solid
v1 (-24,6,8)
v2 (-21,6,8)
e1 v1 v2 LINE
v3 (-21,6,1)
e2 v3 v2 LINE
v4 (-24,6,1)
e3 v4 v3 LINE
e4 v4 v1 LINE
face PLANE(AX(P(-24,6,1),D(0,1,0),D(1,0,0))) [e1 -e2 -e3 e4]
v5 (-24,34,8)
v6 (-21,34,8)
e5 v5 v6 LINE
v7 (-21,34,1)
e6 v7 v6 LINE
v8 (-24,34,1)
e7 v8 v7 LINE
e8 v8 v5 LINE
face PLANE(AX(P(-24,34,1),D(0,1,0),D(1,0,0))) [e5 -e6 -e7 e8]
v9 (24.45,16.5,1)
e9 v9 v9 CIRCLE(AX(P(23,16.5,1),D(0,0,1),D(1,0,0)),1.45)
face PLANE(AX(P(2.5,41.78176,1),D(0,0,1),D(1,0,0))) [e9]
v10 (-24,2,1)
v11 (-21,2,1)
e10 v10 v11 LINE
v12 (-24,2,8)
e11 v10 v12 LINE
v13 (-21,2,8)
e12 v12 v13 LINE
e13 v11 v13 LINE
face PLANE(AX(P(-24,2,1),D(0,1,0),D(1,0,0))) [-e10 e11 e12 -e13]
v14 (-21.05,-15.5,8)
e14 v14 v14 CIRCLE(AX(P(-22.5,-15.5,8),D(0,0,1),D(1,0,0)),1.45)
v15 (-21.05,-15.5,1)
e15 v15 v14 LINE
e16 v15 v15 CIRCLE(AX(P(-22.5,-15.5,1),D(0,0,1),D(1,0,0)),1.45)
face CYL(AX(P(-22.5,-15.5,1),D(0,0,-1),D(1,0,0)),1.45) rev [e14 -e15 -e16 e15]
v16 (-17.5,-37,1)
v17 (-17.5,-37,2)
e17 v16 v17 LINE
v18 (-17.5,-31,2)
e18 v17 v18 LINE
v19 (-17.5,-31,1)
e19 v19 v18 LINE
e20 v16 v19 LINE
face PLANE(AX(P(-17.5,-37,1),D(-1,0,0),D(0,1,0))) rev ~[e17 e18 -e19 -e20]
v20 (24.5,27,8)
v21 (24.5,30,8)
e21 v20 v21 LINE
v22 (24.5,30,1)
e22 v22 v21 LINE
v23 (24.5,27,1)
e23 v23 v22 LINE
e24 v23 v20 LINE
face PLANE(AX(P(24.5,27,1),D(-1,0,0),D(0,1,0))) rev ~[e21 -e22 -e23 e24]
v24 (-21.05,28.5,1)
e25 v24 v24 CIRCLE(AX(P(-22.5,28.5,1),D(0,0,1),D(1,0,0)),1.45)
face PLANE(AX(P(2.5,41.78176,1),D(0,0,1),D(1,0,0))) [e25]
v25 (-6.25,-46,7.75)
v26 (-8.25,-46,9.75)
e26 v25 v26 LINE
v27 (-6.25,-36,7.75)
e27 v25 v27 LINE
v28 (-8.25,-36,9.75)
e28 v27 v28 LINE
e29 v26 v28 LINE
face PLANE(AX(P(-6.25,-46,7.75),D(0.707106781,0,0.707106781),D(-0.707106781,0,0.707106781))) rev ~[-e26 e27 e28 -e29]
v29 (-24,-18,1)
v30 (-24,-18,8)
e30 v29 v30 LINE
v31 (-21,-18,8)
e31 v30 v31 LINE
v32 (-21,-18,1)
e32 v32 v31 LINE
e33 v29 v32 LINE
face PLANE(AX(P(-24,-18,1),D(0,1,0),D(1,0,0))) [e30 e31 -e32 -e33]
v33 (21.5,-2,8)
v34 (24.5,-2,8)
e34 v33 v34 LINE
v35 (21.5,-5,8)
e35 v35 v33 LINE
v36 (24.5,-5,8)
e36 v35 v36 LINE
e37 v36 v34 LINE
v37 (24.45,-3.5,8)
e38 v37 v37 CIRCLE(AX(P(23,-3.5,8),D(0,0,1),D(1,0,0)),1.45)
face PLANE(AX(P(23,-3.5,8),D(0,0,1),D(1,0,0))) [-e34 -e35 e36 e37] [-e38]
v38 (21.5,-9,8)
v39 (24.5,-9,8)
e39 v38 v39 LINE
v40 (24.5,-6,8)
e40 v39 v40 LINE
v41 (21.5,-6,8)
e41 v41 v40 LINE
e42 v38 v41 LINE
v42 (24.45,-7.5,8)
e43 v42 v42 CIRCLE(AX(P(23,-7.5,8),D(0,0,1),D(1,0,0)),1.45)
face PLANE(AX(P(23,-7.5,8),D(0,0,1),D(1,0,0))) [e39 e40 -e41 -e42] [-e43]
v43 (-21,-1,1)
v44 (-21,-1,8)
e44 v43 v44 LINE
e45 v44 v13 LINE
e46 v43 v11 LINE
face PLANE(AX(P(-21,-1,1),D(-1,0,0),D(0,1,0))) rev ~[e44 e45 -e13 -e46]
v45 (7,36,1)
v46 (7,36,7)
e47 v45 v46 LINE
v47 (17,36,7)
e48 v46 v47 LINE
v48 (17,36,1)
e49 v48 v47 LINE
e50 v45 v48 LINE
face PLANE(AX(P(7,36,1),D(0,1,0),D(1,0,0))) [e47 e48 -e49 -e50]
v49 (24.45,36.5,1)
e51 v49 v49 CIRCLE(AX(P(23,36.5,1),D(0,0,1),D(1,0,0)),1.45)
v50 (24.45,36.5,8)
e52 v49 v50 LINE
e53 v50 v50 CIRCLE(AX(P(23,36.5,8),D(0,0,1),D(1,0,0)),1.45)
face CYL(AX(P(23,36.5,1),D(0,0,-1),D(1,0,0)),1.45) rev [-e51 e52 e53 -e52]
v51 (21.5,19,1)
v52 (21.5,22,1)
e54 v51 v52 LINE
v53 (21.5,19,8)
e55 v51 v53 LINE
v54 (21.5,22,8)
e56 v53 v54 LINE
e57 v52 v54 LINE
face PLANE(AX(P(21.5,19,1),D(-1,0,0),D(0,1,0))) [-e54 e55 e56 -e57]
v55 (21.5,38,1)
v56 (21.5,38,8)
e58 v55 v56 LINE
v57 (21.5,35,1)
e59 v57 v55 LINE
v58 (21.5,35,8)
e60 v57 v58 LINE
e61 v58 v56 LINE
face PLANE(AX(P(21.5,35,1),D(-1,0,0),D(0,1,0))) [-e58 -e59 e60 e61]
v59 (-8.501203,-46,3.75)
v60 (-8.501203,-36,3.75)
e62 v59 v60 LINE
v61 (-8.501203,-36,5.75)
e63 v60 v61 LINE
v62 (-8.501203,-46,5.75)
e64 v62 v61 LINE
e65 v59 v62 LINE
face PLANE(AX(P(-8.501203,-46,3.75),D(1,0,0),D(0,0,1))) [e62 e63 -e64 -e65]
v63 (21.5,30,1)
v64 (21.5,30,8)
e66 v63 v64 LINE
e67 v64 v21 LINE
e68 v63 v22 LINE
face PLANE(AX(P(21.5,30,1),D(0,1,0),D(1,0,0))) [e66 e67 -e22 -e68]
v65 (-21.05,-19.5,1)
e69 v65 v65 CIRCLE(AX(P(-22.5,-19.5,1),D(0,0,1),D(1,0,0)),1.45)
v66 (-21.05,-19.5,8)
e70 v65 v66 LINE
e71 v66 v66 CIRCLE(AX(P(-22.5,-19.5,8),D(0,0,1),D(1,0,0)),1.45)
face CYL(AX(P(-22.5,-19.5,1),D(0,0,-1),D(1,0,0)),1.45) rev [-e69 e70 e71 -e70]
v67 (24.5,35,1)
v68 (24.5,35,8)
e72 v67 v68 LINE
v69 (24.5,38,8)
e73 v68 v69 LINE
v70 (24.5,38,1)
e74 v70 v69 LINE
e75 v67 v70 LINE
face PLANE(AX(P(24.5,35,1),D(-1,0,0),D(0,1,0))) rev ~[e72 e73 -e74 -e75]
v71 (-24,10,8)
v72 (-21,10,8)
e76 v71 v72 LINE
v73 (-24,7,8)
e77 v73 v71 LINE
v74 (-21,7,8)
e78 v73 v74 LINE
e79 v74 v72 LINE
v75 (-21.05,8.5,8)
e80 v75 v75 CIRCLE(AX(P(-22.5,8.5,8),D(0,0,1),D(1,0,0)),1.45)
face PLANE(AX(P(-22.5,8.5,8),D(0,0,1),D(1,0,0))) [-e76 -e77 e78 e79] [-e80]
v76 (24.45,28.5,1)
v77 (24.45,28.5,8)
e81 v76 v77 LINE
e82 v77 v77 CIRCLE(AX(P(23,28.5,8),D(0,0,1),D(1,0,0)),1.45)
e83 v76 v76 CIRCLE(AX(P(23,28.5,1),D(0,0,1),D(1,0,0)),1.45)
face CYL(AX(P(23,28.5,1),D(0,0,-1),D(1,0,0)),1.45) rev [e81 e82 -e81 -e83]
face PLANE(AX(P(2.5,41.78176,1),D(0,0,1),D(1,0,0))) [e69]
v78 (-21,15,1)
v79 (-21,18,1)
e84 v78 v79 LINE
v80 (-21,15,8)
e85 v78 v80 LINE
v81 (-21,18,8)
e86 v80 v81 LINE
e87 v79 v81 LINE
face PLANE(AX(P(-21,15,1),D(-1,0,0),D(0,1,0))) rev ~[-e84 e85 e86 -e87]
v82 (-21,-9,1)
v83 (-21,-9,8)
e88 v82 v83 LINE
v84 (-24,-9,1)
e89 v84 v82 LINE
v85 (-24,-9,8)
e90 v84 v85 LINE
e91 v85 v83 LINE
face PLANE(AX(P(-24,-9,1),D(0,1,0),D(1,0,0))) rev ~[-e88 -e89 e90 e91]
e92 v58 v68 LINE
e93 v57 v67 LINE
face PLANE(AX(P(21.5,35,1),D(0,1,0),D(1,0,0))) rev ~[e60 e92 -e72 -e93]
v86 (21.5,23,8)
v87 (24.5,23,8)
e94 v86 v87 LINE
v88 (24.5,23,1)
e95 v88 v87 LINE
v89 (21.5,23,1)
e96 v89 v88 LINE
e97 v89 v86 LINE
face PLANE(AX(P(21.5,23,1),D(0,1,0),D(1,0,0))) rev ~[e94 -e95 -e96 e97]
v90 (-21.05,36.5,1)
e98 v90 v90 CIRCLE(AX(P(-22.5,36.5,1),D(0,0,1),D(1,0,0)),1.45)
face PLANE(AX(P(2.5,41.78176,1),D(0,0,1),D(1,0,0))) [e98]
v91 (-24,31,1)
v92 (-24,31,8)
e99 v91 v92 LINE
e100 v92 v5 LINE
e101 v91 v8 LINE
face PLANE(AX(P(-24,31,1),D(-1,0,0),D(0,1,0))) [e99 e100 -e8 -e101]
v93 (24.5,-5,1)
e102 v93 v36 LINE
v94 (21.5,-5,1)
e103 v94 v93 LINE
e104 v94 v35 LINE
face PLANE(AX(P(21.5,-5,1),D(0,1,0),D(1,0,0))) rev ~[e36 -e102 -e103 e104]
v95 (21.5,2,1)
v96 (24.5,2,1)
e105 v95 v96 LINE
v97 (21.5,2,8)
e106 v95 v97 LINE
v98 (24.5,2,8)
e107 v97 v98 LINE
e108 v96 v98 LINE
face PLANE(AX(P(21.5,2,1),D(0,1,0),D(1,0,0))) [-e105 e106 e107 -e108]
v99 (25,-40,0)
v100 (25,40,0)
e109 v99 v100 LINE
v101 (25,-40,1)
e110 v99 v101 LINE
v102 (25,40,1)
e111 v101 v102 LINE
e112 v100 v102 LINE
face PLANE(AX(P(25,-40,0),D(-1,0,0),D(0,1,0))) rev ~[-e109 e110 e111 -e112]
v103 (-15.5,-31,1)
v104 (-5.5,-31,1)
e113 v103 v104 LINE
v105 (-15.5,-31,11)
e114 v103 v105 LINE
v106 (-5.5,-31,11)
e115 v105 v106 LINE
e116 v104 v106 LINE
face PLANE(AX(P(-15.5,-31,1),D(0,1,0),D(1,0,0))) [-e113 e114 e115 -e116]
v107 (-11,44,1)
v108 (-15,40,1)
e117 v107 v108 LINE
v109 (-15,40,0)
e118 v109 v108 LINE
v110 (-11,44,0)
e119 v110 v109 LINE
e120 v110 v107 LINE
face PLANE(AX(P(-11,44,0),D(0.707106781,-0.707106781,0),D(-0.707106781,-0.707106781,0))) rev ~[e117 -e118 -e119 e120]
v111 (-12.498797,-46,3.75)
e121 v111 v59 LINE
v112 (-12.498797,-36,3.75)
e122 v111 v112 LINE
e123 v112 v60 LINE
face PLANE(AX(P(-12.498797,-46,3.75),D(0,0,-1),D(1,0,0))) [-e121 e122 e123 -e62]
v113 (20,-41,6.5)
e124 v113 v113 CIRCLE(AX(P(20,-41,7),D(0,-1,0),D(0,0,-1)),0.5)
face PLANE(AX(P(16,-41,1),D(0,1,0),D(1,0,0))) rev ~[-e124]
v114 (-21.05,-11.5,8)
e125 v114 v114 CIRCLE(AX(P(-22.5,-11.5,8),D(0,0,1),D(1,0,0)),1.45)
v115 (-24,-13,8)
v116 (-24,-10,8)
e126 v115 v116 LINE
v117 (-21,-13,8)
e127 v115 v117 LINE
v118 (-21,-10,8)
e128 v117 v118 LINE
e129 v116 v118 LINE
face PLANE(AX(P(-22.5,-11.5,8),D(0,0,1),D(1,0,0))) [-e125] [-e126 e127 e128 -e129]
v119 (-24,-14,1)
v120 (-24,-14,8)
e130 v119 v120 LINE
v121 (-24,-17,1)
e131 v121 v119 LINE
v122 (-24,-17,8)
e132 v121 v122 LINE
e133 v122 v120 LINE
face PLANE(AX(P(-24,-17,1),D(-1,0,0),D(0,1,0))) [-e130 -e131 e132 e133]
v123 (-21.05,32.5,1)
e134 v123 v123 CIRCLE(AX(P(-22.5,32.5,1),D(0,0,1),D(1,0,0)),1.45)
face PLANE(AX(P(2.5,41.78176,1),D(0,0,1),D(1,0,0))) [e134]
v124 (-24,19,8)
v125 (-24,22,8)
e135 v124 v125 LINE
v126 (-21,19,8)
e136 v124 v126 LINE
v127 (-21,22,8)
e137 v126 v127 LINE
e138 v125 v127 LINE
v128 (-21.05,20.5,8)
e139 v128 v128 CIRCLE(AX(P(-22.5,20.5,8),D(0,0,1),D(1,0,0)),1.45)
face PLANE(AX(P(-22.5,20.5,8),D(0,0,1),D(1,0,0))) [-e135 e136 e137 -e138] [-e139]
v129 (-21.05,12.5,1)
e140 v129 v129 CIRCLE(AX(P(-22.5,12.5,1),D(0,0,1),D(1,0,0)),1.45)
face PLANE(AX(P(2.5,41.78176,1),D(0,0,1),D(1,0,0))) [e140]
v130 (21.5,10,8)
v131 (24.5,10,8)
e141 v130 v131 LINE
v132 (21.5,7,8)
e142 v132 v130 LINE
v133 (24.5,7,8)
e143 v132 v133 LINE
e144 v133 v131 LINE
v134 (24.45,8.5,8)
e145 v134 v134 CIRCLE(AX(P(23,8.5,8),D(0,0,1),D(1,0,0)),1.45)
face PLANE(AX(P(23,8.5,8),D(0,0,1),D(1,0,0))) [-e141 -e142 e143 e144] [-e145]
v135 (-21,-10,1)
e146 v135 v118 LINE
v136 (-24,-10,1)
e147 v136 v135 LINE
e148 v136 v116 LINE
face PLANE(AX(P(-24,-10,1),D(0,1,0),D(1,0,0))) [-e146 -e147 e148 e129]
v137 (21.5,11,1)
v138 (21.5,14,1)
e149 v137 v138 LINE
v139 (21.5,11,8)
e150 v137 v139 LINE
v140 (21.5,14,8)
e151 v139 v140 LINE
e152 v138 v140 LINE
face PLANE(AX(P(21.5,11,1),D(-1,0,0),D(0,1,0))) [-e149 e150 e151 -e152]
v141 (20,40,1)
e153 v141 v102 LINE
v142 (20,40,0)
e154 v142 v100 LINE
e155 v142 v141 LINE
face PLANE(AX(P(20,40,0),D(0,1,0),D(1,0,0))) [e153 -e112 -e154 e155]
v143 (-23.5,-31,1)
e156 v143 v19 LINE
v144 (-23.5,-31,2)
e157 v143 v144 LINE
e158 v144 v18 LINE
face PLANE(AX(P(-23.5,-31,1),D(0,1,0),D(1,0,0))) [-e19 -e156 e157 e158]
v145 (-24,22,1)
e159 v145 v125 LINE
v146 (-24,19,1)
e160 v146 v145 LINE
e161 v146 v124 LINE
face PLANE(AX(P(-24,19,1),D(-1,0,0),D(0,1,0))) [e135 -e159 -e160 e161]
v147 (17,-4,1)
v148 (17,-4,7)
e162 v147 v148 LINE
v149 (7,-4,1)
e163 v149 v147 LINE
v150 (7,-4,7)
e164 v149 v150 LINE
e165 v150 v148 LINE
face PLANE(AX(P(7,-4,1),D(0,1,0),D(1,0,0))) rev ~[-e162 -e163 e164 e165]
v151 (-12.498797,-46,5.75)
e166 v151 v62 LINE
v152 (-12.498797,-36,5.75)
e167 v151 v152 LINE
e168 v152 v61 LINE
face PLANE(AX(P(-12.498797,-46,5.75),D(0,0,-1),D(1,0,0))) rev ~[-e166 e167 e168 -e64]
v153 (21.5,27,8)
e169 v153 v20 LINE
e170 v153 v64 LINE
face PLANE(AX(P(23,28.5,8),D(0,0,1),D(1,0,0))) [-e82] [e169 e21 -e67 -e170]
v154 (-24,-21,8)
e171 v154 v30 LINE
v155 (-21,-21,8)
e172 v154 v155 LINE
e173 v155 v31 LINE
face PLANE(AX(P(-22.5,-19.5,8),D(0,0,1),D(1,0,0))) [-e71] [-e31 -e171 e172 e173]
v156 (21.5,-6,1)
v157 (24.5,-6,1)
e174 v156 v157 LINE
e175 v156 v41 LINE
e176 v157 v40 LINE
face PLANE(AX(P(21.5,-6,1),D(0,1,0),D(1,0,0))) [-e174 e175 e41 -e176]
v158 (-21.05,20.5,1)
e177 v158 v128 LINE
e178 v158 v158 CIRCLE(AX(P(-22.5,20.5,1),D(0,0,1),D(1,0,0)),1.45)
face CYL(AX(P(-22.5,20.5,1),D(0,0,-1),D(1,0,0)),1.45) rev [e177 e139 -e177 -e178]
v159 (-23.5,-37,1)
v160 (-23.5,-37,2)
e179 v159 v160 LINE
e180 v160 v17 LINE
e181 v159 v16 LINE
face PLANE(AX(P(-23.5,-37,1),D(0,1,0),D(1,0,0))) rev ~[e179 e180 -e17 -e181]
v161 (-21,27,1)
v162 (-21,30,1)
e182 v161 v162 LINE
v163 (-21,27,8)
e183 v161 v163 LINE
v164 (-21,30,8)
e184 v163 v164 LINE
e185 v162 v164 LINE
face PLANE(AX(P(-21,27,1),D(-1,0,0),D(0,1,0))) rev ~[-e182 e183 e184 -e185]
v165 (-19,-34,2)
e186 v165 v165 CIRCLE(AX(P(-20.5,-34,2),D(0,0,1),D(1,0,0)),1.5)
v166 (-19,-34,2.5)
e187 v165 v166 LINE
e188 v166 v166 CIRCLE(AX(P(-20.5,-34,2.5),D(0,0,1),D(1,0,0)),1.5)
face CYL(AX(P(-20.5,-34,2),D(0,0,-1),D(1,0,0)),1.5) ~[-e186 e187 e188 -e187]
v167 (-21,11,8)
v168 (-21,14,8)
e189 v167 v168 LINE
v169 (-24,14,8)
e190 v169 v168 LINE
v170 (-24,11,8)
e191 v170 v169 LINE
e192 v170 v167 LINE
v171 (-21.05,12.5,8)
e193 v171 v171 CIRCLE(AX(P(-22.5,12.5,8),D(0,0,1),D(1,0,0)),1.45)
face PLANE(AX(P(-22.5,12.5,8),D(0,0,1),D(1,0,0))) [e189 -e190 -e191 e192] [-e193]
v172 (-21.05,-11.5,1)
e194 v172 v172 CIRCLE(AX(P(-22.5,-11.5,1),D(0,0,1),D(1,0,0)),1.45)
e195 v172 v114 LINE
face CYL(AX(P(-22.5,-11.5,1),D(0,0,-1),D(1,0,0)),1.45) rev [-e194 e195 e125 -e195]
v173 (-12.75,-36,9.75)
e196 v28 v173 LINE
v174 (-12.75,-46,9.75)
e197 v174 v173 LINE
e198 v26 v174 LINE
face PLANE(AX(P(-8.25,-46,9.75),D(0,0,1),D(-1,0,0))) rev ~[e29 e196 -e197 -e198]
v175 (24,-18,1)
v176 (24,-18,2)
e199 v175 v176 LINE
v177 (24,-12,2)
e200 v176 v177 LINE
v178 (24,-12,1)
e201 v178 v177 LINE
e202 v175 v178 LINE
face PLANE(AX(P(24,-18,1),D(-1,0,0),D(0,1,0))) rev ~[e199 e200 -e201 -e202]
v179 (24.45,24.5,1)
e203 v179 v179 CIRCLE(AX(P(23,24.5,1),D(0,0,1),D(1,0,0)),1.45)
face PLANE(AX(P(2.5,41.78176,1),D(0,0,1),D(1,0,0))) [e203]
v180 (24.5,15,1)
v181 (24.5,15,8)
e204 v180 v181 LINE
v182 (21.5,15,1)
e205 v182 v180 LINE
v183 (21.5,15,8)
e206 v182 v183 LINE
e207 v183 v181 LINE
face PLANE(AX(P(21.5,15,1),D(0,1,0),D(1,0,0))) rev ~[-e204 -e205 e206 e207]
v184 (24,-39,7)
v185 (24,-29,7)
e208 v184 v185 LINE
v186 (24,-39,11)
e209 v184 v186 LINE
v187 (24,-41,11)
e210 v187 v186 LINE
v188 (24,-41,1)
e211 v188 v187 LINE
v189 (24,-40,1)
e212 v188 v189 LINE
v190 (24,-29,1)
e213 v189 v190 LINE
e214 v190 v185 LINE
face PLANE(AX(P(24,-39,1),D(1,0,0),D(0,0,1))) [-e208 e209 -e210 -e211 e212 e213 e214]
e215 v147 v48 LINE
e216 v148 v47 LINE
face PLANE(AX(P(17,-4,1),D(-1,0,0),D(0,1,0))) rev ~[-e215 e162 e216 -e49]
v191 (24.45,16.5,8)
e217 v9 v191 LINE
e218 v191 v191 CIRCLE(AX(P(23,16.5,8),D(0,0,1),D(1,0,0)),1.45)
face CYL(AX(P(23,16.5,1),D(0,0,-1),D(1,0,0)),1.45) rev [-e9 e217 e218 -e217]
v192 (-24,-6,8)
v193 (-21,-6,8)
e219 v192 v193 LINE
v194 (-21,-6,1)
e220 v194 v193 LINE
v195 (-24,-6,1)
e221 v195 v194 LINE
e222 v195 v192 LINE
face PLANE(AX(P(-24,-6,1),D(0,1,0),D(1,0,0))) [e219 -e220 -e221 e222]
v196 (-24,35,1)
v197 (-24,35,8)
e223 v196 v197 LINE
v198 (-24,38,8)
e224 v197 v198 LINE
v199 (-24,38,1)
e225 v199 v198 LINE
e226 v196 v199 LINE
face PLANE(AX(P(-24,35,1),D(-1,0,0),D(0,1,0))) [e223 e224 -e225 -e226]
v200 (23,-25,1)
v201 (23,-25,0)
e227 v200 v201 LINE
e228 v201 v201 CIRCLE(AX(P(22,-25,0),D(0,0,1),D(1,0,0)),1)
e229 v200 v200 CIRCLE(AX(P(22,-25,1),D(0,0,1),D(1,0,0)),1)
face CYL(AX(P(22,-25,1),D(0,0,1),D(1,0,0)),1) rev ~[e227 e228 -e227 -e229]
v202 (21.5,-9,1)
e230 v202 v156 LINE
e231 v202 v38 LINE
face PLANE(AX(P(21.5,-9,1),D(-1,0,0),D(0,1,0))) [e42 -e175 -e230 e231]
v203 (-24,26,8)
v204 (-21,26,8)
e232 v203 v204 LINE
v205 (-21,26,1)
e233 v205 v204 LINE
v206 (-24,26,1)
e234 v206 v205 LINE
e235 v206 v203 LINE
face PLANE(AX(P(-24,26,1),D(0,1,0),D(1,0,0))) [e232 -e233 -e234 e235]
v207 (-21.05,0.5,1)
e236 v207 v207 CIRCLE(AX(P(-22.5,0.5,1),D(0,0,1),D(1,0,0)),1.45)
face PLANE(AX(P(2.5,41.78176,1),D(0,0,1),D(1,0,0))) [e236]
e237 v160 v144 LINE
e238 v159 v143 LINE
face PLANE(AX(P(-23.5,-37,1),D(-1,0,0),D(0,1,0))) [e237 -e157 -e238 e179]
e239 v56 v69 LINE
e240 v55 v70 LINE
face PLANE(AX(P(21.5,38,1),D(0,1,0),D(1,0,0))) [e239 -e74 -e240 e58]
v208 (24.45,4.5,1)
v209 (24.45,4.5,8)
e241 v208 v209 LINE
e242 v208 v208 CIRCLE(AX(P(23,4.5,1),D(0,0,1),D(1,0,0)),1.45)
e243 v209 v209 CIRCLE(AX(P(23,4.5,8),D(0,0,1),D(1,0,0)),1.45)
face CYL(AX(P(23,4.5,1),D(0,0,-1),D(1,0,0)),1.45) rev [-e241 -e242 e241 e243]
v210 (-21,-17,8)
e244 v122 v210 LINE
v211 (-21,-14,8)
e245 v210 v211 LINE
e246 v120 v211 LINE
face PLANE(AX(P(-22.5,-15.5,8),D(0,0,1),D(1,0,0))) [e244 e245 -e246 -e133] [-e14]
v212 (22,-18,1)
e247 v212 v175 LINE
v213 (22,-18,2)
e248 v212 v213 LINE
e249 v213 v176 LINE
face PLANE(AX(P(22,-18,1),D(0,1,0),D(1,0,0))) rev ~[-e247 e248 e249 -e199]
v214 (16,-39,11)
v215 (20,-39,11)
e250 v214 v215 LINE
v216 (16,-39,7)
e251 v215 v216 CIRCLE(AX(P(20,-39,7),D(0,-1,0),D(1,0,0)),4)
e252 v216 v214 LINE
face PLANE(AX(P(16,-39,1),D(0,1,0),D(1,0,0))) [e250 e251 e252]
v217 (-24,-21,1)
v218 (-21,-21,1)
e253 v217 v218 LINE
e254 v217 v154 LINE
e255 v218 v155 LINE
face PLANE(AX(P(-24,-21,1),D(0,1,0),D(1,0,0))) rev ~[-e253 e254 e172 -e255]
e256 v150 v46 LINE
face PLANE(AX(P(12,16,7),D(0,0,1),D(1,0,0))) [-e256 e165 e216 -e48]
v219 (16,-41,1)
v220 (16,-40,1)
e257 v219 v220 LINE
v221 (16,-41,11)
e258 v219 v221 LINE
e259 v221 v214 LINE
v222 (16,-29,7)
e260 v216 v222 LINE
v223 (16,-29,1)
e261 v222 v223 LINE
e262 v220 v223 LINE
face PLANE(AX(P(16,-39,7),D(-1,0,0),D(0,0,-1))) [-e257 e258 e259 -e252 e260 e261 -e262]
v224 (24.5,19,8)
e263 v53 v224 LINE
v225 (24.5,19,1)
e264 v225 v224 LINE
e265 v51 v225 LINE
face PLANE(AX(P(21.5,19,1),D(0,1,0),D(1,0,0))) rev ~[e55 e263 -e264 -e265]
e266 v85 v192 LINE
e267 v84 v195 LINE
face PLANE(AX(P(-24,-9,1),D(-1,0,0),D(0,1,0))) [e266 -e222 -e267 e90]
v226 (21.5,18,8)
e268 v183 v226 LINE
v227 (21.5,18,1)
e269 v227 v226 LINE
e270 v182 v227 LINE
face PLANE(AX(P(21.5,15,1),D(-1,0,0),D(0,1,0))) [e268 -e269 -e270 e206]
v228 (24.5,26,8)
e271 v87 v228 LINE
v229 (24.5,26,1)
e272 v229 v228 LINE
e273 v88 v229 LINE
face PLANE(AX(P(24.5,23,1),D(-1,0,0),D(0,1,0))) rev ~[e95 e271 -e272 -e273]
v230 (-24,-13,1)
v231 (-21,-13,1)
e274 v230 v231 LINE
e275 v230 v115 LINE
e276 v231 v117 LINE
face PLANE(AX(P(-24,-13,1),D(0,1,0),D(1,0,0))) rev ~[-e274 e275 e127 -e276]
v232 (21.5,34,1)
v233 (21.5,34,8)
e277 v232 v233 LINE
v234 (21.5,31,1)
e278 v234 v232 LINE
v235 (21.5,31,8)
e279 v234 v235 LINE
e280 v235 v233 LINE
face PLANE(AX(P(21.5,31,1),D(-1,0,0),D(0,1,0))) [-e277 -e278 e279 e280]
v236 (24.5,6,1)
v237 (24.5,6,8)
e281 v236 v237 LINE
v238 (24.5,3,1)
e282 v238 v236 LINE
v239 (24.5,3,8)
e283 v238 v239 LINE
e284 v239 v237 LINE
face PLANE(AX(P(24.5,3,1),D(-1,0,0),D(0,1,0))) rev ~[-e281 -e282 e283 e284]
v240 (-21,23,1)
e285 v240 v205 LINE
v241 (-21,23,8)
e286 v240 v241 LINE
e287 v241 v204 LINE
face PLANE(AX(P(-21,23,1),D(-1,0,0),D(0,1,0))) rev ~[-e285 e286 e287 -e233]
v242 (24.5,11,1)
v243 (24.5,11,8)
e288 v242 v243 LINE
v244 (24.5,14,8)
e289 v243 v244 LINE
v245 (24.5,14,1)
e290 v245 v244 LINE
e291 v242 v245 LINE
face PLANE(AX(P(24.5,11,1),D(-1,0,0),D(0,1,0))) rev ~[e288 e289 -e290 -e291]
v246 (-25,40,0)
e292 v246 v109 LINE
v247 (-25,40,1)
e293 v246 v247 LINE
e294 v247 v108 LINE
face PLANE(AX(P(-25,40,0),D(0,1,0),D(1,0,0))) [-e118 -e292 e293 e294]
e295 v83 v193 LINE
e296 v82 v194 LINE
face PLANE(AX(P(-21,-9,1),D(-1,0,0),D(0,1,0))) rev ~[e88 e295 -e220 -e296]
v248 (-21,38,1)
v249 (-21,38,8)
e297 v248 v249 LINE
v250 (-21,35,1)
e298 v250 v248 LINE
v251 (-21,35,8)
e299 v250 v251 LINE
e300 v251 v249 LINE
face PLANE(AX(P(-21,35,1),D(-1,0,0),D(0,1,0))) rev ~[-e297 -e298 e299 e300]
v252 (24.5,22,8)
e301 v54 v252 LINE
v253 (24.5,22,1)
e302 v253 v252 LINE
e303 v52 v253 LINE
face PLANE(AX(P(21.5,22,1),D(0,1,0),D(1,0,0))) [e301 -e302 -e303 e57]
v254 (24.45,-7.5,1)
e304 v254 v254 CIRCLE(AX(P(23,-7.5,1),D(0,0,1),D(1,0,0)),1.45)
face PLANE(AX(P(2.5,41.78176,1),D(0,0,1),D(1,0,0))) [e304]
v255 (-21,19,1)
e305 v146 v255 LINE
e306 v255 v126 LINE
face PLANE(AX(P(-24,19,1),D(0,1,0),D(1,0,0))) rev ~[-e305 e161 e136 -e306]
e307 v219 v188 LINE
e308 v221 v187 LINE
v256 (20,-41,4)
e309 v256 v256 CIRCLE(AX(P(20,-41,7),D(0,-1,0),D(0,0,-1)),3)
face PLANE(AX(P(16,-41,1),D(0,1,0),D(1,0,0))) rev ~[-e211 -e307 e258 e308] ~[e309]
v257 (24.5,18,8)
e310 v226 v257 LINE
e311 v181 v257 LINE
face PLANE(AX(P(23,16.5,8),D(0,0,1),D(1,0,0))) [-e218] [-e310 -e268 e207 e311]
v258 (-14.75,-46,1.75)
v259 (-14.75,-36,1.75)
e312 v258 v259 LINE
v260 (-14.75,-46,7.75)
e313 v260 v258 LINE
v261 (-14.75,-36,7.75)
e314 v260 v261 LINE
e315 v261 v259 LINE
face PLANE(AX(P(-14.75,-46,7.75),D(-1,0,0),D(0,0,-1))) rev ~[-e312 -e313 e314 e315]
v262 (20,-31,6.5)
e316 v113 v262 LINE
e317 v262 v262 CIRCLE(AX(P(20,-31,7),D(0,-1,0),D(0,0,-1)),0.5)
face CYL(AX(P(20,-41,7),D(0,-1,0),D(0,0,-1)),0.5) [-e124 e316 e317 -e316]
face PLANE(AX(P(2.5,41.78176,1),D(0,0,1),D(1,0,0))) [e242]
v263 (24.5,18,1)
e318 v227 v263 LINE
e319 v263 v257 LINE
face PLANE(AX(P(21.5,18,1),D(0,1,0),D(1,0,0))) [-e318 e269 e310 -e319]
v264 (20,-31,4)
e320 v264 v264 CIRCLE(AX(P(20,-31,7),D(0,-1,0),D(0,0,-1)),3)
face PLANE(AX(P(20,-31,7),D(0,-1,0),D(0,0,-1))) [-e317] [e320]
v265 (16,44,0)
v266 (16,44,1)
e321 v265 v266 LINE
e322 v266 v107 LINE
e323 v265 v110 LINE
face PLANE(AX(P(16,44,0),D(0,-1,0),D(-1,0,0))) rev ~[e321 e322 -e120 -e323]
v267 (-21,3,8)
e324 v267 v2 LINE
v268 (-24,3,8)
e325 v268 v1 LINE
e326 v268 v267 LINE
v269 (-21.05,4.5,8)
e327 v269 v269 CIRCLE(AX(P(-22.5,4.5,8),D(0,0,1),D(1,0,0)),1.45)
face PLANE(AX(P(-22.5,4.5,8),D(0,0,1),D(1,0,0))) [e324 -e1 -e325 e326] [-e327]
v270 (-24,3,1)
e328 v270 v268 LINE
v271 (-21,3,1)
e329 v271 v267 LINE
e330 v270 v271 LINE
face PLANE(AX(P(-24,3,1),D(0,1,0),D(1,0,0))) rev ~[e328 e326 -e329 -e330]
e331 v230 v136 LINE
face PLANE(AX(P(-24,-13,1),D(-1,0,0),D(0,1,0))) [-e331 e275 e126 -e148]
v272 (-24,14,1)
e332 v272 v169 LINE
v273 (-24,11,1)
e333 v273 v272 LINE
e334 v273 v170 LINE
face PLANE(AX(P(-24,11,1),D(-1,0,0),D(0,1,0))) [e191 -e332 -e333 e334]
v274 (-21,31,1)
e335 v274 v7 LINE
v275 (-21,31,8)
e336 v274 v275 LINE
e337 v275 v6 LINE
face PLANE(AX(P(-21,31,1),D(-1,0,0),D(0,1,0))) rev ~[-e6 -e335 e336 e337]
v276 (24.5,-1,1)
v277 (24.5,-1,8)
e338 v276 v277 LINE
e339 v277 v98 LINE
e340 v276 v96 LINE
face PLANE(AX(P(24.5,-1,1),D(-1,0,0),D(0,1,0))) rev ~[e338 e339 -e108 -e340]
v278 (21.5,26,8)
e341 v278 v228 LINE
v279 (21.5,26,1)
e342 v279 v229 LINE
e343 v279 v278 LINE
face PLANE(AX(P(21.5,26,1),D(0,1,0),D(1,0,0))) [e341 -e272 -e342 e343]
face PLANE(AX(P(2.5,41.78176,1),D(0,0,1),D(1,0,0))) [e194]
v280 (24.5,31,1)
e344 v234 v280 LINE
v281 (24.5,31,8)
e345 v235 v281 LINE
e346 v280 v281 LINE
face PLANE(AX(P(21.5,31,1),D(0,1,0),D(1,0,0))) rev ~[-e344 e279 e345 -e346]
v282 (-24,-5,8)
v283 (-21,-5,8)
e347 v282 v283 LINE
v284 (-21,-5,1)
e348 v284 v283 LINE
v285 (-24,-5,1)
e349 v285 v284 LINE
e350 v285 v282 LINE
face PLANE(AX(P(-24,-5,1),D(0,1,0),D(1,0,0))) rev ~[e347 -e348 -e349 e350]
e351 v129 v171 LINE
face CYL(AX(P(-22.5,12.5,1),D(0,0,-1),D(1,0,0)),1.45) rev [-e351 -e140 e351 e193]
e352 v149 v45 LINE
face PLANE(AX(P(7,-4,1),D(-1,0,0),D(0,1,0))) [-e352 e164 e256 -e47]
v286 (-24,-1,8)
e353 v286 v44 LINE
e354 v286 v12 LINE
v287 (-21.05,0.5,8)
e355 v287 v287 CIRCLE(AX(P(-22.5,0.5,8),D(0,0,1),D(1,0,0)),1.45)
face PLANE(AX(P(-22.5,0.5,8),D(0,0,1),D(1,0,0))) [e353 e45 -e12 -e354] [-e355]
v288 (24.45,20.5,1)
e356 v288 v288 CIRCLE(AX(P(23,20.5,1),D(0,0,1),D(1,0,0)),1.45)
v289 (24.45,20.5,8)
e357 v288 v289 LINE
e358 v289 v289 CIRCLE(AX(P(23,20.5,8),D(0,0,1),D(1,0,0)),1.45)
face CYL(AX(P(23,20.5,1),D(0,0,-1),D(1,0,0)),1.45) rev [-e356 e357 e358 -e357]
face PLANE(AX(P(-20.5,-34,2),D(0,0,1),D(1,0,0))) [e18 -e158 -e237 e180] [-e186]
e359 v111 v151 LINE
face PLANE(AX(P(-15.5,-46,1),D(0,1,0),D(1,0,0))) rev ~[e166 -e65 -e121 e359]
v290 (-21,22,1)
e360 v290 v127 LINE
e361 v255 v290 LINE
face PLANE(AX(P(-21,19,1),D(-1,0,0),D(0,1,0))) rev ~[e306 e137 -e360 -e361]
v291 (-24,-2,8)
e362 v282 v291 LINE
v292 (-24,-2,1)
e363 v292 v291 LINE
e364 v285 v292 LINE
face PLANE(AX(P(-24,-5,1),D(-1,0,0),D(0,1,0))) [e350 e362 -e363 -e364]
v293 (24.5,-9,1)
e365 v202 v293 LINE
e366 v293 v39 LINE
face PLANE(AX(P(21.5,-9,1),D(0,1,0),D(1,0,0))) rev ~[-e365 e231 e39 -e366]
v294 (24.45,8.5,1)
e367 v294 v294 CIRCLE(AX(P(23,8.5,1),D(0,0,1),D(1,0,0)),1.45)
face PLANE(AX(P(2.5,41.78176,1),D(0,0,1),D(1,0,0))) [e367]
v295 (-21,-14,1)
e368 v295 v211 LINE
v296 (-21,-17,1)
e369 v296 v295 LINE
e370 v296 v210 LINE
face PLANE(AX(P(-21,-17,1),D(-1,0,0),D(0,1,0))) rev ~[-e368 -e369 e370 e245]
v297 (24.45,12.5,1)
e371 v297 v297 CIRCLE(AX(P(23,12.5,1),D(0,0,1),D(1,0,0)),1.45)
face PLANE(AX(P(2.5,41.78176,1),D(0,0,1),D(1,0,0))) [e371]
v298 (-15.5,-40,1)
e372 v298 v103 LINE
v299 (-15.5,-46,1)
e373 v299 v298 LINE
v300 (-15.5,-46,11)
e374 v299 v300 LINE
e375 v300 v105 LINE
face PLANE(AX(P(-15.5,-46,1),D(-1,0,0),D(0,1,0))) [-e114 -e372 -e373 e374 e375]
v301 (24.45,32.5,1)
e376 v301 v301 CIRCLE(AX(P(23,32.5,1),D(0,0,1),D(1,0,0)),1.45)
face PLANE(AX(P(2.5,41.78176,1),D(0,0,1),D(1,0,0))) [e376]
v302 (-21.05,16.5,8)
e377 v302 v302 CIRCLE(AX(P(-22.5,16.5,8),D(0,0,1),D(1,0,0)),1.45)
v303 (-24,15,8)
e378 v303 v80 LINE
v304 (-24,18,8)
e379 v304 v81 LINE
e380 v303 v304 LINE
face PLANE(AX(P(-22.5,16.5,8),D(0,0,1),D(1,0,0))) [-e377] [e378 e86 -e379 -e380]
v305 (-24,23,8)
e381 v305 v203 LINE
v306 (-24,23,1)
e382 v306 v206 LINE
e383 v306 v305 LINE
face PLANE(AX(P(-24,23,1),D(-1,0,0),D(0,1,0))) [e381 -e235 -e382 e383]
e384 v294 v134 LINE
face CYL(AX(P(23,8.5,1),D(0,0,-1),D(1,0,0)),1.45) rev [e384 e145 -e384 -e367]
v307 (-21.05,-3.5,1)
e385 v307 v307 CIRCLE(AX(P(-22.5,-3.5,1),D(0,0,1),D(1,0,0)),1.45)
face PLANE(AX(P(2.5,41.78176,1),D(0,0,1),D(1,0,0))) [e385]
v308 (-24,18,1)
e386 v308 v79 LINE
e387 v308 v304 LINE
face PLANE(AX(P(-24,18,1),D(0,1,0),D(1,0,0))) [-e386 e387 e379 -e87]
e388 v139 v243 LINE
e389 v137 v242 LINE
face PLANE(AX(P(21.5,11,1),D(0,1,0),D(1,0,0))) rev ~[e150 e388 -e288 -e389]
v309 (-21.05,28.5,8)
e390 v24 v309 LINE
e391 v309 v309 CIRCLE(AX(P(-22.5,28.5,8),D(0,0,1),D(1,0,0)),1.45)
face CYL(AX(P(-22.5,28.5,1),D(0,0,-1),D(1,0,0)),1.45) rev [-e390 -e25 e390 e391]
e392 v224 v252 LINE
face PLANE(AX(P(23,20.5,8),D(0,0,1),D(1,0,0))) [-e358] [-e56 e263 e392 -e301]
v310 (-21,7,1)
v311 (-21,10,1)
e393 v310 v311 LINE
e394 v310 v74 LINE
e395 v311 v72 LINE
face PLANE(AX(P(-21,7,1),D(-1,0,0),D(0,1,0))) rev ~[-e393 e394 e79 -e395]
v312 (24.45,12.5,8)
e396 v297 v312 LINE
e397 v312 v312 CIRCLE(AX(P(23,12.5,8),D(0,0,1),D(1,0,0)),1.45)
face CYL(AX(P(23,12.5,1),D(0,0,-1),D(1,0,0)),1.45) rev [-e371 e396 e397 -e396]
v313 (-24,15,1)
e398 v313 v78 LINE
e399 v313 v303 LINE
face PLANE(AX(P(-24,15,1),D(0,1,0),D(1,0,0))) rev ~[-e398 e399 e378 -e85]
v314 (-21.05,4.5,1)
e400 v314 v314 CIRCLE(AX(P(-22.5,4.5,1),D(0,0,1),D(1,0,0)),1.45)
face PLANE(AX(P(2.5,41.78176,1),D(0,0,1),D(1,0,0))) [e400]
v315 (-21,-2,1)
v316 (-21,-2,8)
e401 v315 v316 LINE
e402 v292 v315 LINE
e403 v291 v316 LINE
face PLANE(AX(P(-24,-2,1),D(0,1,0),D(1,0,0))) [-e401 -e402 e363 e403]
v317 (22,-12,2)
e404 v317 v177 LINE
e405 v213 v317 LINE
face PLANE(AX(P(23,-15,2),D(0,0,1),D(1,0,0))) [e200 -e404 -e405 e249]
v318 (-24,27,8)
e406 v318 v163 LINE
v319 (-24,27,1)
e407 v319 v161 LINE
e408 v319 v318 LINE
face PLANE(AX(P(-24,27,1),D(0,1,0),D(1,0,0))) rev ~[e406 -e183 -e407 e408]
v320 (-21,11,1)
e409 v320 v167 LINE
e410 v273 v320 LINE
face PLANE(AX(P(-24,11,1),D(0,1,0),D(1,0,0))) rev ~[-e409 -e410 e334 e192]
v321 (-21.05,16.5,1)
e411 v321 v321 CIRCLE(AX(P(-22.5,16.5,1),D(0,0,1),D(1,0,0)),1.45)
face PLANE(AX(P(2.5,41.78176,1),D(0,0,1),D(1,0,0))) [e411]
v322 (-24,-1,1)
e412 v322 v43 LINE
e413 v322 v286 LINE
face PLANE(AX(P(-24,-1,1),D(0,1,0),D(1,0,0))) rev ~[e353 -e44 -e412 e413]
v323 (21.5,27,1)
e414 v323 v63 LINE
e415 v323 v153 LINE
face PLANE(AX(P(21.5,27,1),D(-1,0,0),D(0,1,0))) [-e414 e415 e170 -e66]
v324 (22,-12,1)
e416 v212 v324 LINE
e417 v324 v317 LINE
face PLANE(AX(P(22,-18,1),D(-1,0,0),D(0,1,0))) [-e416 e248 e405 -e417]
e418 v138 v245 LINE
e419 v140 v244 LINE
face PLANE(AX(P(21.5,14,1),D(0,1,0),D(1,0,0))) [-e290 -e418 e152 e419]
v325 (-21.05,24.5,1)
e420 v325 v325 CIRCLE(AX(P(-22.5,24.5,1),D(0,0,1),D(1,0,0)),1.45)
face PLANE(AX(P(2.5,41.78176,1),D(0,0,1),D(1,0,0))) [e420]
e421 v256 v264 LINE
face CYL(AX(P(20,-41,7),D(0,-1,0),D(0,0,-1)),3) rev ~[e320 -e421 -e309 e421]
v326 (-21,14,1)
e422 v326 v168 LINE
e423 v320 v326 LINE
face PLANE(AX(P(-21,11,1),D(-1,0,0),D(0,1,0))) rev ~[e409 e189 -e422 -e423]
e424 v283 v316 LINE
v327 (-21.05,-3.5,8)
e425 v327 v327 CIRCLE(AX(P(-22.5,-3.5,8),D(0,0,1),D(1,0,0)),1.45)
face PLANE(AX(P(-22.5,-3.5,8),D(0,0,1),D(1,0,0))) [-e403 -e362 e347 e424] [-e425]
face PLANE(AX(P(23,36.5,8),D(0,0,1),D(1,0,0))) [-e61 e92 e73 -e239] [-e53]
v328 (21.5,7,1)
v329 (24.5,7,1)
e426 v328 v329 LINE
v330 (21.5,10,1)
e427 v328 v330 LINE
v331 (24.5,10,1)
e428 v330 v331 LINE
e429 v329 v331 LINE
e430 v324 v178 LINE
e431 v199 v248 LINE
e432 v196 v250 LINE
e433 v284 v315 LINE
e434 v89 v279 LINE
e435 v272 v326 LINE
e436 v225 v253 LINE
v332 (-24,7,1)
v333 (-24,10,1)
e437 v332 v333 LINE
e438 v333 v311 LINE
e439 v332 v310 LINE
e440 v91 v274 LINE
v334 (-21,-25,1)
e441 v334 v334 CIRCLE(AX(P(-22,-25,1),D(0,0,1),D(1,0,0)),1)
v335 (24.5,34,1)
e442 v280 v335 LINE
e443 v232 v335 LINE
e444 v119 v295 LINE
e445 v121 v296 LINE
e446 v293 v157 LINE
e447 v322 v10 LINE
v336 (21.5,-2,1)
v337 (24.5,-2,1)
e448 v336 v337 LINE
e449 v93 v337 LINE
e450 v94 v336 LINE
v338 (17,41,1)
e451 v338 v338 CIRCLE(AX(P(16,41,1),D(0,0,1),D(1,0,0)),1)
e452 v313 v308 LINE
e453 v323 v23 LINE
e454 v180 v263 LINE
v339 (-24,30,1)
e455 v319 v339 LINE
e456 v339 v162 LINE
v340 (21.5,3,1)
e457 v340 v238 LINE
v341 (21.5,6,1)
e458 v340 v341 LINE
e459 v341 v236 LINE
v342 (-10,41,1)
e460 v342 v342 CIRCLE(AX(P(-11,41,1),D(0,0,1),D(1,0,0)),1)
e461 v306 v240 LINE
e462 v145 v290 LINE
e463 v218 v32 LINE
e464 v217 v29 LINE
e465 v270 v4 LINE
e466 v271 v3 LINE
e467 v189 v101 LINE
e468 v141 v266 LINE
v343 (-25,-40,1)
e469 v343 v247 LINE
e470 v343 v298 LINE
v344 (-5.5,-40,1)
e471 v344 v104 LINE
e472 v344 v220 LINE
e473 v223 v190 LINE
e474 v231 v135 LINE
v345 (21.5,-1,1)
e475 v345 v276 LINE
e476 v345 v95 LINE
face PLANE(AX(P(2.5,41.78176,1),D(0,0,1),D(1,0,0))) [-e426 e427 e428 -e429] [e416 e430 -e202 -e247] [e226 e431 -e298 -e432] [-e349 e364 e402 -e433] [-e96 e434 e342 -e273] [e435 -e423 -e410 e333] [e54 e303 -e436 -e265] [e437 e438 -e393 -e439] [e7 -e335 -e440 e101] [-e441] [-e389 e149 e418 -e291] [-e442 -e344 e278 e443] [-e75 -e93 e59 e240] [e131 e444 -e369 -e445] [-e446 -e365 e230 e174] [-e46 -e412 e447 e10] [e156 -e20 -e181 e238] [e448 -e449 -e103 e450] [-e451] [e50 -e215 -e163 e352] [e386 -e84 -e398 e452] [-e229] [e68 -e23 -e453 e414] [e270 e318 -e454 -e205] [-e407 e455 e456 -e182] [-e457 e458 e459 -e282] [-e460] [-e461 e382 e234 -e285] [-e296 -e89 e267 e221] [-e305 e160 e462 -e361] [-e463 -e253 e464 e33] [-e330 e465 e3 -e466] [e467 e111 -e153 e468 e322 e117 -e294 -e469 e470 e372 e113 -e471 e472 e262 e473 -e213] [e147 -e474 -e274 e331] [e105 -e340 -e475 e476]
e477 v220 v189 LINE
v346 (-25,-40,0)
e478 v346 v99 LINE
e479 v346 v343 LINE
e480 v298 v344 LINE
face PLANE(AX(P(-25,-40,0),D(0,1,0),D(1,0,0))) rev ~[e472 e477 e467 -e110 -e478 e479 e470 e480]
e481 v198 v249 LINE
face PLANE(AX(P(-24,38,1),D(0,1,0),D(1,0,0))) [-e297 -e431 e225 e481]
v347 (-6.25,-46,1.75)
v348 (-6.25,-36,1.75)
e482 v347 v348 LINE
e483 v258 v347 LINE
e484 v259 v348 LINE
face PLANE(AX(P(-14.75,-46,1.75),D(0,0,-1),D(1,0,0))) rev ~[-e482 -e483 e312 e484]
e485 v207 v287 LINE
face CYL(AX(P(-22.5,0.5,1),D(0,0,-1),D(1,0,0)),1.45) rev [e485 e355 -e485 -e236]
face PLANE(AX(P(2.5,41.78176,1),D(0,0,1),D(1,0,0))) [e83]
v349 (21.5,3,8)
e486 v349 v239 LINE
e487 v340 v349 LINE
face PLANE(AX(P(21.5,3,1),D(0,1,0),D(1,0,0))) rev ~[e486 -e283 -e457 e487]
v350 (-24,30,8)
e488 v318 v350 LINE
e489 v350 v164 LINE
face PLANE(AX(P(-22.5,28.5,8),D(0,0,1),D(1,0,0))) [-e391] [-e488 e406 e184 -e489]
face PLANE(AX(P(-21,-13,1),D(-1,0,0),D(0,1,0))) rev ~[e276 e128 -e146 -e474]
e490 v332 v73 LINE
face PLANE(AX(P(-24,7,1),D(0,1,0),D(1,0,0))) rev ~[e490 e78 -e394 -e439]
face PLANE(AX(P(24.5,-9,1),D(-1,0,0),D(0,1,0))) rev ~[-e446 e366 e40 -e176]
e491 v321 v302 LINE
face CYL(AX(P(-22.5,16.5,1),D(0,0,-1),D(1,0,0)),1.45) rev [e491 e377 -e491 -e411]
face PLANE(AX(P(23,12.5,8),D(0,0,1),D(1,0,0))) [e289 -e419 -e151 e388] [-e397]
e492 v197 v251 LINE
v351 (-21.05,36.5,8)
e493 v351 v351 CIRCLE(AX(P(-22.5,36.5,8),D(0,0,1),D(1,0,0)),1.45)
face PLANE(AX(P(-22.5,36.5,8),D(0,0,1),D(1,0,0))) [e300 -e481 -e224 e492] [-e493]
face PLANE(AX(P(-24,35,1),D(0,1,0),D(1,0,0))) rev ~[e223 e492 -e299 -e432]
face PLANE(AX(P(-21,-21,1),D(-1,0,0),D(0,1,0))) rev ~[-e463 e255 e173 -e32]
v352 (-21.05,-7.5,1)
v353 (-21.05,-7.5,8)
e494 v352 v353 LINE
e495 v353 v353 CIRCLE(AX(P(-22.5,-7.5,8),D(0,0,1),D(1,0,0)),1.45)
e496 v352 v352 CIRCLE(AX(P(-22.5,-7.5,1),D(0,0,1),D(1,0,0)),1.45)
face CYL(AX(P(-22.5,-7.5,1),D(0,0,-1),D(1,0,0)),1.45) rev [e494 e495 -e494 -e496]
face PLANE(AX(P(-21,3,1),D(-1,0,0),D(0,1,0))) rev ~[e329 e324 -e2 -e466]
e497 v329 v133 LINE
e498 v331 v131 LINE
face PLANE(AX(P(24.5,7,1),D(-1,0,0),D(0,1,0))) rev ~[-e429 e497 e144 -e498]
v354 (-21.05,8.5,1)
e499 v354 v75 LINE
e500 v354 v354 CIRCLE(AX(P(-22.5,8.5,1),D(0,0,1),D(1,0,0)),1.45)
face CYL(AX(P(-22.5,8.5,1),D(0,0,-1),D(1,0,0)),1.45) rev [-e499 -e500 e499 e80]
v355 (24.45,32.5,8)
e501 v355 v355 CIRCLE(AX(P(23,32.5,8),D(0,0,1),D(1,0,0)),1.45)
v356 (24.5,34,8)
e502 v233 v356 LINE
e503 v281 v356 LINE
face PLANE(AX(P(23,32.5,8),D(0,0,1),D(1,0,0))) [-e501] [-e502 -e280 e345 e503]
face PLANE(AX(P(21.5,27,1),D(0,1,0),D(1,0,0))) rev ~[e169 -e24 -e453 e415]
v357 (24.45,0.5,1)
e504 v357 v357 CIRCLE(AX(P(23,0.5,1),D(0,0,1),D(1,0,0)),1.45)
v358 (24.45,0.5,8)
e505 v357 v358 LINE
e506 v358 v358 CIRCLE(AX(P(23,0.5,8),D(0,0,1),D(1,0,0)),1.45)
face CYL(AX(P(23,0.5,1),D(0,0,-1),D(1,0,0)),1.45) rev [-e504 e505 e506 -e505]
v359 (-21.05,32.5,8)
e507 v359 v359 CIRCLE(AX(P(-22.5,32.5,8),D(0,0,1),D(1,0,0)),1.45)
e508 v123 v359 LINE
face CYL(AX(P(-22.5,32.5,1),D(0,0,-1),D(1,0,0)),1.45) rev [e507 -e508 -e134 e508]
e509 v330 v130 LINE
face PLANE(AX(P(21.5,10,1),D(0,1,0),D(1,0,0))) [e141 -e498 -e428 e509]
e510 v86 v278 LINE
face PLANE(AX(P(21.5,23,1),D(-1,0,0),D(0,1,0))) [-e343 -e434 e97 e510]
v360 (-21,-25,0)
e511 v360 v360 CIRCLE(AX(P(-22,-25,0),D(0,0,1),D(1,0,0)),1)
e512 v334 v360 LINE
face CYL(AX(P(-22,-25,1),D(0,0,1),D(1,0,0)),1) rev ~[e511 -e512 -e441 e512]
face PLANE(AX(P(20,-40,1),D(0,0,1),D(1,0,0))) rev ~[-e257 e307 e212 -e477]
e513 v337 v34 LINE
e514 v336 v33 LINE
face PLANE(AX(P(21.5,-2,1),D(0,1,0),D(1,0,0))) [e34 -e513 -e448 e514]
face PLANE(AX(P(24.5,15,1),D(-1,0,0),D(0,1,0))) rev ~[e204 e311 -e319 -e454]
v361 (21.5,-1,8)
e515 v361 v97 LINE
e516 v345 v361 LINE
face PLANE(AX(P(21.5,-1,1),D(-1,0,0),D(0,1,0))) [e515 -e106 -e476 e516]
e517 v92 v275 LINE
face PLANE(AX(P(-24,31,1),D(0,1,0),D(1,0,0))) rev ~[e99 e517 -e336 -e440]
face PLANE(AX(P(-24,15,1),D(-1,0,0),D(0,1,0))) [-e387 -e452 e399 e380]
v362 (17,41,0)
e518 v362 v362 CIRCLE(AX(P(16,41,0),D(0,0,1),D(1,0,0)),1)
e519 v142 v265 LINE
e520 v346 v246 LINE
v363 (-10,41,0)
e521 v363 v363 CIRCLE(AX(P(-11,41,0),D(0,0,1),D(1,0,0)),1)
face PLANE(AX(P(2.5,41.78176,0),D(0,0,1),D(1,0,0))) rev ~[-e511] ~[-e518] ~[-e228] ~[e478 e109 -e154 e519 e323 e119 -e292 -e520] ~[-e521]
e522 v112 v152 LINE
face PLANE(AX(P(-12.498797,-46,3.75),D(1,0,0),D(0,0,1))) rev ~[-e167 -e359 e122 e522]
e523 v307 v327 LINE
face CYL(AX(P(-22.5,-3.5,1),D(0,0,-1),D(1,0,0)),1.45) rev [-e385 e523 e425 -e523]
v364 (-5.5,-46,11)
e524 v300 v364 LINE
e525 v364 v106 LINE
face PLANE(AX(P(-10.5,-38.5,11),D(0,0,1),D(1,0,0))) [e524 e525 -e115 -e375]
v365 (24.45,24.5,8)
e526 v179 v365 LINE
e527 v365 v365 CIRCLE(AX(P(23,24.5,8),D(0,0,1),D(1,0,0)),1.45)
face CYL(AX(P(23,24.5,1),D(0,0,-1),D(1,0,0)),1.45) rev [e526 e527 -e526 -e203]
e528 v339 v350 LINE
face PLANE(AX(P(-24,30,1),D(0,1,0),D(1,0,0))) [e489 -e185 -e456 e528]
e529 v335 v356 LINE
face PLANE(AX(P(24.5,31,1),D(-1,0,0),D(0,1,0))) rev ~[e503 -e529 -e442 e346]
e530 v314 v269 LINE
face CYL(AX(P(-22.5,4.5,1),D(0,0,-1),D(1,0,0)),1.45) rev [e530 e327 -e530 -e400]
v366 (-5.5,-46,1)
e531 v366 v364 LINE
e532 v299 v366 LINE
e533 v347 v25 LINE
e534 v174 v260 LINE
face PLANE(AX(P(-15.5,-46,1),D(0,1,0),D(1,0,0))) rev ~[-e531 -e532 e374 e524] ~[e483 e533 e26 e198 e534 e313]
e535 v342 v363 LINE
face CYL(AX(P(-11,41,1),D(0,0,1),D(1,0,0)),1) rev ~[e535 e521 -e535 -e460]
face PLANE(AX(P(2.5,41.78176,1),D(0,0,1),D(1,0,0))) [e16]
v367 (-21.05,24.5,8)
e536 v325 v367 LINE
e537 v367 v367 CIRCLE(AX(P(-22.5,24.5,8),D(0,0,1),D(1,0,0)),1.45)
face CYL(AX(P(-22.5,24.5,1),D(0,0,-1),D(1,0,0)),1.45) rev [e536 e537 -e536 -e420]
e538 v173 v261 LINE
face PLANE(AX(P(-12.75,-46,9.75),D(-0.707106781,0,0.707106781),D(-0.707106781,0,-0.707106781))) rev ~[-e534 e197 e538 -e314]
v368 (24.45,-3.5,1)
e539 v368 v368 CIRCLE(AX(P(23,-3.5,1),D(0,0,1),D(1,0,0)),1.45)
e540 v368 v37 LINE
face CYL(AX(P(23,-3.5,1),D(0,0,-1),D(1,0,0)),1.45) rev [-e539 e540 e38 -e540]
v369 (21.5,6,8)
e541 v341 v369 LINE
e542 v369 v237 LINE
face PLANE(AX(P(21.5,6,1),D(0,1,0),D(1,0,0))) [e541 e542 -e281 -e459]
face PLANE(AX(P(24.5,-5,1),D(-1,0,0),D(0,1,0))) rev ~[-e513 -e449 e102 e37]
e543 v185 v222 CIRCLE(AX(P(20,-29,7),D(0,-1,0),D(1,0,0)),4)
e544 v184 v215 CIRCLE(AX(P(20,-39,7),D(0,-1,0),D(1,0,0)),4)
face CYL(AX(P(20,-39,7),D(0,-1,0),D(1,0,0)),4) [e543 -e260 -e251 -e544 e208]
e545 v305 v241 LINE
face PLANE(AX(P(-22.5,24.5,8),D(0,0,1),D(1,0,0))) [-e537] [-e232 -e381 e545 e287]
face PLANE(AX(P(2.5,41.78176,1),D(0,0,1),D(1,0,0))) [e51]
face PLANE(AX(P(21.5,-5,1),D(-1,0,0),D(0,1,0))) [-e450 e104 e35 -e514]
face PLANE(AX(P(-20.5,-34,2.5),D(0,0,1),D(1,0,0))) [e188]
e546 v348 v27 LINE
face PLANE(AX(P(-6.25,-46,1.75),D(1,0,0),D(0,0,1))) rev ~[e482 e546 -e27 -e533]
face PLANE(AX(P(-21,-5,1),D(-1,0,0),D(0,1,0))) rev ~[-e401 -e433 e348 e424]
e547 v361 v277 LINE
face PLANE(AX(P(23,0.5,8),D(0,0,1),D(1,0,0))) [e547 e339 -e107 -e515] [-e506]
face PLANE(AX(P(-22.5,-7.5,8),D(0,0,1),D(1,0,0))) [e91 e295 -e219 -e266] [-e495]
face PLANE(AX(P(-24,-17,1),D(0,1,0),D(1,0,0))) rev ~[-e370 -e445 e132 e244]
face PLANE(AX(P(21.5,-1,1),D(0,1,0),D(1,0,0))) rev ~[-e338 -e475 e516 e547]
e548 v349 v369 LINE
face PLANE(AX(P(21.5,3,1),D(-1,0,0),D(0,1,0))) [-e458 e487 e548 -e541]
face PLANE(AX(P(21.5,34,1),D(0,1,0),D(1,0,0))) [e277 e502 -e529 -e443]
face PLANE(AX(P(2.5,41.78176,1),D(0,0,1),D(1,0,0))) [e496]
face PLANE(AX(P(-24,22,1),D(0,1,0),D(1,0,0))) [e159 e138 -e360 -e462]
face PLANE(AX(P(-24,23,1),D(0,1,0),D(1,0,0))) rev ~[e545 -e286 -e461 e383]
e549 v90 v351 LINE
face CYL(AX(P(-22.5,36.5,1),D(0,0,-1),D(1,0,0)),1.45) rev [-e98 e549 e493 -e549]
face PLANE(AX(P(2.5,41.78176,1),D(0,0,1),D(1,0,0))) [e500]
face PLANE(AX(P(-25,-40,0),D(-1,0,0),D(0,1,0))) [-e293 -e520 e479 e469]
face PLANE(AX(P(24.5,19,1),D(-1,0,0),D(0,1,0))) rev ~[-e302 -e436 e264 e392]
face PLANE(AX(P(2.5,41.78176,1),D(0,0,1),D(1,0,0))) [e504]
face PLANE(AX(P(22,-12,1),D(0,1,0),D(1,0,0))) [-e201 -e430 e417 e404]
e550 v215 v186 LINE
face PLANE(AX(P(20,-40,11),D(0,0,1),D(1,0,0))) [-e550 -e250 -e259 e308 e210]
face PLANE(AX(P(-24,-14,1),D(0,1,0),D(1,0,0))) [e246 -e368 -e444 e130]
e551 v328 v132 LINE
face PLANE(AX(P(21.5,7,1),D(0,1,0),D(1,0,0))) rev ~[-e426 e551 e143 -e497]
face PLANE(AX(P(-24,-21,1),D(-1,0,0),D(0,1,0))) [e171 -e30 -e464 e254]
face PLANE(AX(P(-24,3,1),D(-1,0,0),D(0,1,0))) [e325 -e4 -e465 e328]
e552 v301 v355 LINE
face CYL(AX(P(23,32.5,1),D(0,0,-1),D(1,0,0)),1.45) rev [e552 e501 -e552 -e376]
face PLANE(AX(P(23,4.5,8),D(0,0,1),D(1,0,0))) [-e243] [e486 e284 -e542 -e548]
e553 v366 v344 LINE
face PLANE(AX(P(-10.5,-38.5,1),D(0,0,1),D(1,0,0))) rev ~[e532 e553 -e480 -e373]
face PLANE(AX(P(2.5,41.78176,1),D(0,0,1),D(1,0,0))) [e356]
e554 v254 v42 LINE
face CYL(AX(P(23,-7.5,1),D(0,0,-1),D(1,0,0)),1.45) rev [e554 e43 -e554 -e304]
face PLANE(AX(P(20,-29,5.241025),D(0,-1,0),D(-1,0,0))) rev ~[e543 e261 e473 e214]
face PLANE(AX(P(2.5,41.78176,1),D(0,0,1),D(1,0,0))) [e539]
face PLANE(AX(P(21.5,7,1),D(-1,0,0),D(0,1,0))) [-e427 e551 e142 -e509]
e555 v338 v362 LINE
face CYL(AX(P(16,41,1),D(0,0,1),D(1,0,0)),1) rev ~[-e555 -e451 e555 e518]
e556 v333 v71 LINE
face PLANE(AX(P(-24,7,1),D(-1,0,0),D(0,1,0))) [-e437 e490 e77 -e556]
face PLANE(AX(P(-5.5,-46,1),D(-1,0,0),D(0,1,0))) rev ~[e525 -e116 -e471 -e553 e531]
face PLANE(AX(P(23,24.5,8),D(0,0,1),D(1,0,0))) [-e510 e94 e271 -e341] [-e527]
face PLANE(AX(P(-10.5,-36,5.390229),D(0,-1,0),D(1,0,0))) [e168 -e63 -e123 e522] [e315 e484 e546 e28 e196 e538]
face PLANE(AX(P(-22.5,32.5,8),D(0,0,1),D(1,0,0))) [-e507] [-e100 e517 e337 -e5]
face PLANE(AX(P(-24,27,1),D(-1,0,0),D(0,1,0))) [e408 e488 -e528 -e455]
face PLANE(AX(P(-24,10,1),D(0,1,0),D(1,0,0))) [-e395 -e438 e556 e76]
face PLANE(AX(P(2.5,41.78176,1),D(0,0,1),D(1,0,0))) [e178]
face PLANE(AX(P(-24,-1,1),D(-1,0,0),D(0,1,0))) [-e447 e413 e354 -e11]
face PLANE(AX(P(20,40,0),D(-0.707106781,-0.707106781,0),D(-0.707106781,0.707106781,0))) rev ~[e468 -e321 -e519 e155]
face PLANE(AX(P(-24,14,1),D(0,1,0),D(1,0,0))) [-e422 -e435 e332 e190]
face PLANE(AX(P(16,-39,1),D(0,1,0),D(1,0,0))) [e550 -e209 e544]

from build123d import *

# Parameters (mm, degrees)
SKETCH1_W            = 50
SKETCH1_H            = 80
BOSS_EXTRUDE1_DEPTH  = 1
SKETCH2_R            = 1
CUT_EXTRUDE1_DEPTH   = 1
SKETCH3_W            = 3
SKETCH3_H            = 3
SKETCH3_R            = 1.45
BOSS_EXTRUDE2_DEPTH  = 7
LPATTERN1_COUNT      = 12
LPATTERN1_PITCH      = 4
SKETCH4_W            = 2
SKETCH4_H            = 6
BOSS_EXTRUDE3_DEPTH  = 1
SKETCH5_W            = 10
SKETCH5_H            = 40
BOSS_EXTRUDE4_DEPTH  = 6
SKETCH6_W            = 3
SKETCH6_H            = 3
SKETCH6_R            = 1.45
BOSS_EXTRUDE5_DEPTH  = 7
LPATTERN3_COUNT      = 15
LPATTERN3_PITCH      = 4
SKETCH7_W            = 6
SKETCH7_H            = 6
BOSS_EXTRUDE6_DEPTH  = 1
SKETCH8_R            = 1.5
BOSS_EXTRUDE7_DEPTH  = 0.5
SKETCH9_W            = 10
SKETCH9_H            = 15
BOSS_EXTRUDE8_DEPTH  = 10
SKETCH10_W           = 3.997593526
SKETCH10_H           = 2
CUT_EXTRUDE2_DEPTH   = 10
SKETCH11_W           = 8
SKETCH11_H           = 2
BOSS_EXTRUDE9_DEPTH  = 10
BOSS_EXTRUDE10_DEPTH = 10
SKETCH13_R           = 3
SKETCH13_R_2         = 0.5
CUT_EXTRUDE3_DEPTH   = 10


with BuildPart() as part:
    # Sketch1 → Boss-Extrude1 (new body)
    with BuildSketch(Plane.XY):
        Polygon((-15, 40), (20, 40), (16, 44), (-11, 44), align=None)
        Rectangle(SKETCH1_W, SKETCH1_H)
    extrude(amount=BOSS_EXTRUDE1_DEPTH)

    # Sketch2 → Cut-Extrude1 (cut)
    with BuildSketch(Plane.XY.offset(1)):
        with Locations((-11, 41)):
            Circle(SKETCH2_R)
        with Locations((16, 41)):
            Circle(SKETCH2_R)
        with Locations((-22, -25)):
            Circle(SKETCH2_R)
        with Locations((22, -25)):
            Circle(SKETCH2_R)
    extrude(amount=-CUT_EXTRUDE1_DEPTH, mode=Mode.SUBTRACT)

    # Sketch3 → Boss-Extrude2 (add)
    with BuildSketch(Plane.XY.offset(1)):
        with Locations((23, 36.5)):
            Rectangle(SKETCH3_W, SKETCH3_H)
        with Locations((23, 36.5)):
            Circle(SKETCH3_R, mode=Mode.SUBTRACT)
    boss_extrude2 = extrude(amount=BOSS_EXTRUDE2_DEPTH)

    # LPattern1: Boss-Extrude2 ×12
    with Locations(*[(0, -i * LPATTERN1_PITCH, 0) for i in range(1, LPATTERN1_COUNT)]):
        add(boss_extrude2)

    # Sketch4 → Boss-Extrude3 (add)
    with BuildSketch(Plane.XY.offset(1)):
        with Locations((23, -15)):
            Rectangle(SKETCH4_W, SKETCH4_H)
    extrude(amount=BOSS_EXTRUDE3_DEPTH)

    # Sketch5 → Boss-Extrude4 (add)
    with BuildSketch(Plane.XY.offset(1)):
        with Locations((12, 16)):
            Rectangle(SKETCH5_W, SKETCH5_H)
    extrude(amount=BOSS_EXTRUDE4_DEPTH)

    # Sketch6 → Boss-Extrude5 (add)
    with BuildSketch(Plane.XY.offset(1)):
        with Locations((-22.5, 36.5)):
            Rectangle(SKETCH6_W, SKETCH6_H)
        with Locations((-22.5, 36.5)):
            Circle(SKETCH6_R, mode=Mode.SUBTRACT)
    boss_extrude5 = extrude(amount=BOSS_EXTRUDE5_DEPTH)

    # LPattern3: Boss-Extrude5 ×15
    with Locations(*[(0, -i * LPATTERN3_PITCH, 0) for i in range(1, LPATTERN3_COUNT)]):
        add(boss_extrude5)

    # Sketch7 → Boss-Extrude6 (add)
    with BuildSketch(Plane.XY.offset(1)):
        with Locations((-20.5, -34)):
            Rectangle(SKETCH7_W, SKETCH7_H)
    extrude(amount=BOSS_EXTRUDE6_DEPTH)

    # Sketch8 → Boss-Extrude7 (add)
    with BuildSketch(Plane.XY.offset(2)):
        with Locations((-20.5, -34)):
            Circle(SKETCH8_R)
    extrude(amount=BOSS_EXTRUDE7_DEPTH)

    # Sketch9 → Boss-Extrude8 (add)
    with BuildSketch(Plane.XY.offset(1)):
        with Locations((-10.5, -38.5)):
            Rectangle(SKETCH9_W, SKETCH9_H)
    extrude(amount=BOSS_EXTRUDE8_DEPTH)

    # Sketch10 → Cut-Extrude2 (cut)
    with BuildSketch(Plane.XZ.offset(46)):
        Polygon((-12.75, 9.75), (-14.75, 7.75), (-14.75, 1.75), (-6.25, 1.75), (-6.25, 7.75), (-8.25, 9.75), align=None)
        with Locations((-10.5, 4.75)):
            Rectangle(SKETCH10_W, SKETCH10_H, mode=Mode.SUBTRACT)
    extrude(amount=-CUT_EXTRUDE2_DEPTH, mode=Mode.SUBTRACT)

    # Sketch11 → Boss-Extrude9 (add)
    with BuildSketch(Plane.XY.offset(1)):
        with Locations((20, -40)):
            Rectangle(SKETCH11_W, SKETCH11_H)
    extrude(amount=BOSS_EXTRUDE9_DEPTH)

    # Sketch12 → Boss-Extrude10 (add)
    with BuildSketch(Plane(origin=(0, -39, 0), x_dir=(1, 0, 0), z_dir=(0, 1, 0))):
        with BuildLine():
            Line((16, -1), (24, -1))
            Line((24, -1), (24, -7))
            ThreePointArc((24, -7), (20, -11), (16, -7))
            Line((16, -7), (16, -1))
        make_face()
    extrude(amount=BOSS_EXTRUDE10_DEPTH)

    # Sketch13 → Cut-Extrude3 (cut)
    with BuildSketch(Plane.XZ.offset(41)):
        with Locations(Location((20, 7, 0), (0, 0, 270))):
            Circle(SKETCH13_R)
        with Locations(Location((20, 7, 0), (0, 0, 270))):
            Circle(SKETCH13_R_2, mode=Mode.SUBTRACT)
    extrude(amount=-CUT_EXTRUDE3_DEPTH, mode=Mode.SUBTRACT)


solid = part.part
